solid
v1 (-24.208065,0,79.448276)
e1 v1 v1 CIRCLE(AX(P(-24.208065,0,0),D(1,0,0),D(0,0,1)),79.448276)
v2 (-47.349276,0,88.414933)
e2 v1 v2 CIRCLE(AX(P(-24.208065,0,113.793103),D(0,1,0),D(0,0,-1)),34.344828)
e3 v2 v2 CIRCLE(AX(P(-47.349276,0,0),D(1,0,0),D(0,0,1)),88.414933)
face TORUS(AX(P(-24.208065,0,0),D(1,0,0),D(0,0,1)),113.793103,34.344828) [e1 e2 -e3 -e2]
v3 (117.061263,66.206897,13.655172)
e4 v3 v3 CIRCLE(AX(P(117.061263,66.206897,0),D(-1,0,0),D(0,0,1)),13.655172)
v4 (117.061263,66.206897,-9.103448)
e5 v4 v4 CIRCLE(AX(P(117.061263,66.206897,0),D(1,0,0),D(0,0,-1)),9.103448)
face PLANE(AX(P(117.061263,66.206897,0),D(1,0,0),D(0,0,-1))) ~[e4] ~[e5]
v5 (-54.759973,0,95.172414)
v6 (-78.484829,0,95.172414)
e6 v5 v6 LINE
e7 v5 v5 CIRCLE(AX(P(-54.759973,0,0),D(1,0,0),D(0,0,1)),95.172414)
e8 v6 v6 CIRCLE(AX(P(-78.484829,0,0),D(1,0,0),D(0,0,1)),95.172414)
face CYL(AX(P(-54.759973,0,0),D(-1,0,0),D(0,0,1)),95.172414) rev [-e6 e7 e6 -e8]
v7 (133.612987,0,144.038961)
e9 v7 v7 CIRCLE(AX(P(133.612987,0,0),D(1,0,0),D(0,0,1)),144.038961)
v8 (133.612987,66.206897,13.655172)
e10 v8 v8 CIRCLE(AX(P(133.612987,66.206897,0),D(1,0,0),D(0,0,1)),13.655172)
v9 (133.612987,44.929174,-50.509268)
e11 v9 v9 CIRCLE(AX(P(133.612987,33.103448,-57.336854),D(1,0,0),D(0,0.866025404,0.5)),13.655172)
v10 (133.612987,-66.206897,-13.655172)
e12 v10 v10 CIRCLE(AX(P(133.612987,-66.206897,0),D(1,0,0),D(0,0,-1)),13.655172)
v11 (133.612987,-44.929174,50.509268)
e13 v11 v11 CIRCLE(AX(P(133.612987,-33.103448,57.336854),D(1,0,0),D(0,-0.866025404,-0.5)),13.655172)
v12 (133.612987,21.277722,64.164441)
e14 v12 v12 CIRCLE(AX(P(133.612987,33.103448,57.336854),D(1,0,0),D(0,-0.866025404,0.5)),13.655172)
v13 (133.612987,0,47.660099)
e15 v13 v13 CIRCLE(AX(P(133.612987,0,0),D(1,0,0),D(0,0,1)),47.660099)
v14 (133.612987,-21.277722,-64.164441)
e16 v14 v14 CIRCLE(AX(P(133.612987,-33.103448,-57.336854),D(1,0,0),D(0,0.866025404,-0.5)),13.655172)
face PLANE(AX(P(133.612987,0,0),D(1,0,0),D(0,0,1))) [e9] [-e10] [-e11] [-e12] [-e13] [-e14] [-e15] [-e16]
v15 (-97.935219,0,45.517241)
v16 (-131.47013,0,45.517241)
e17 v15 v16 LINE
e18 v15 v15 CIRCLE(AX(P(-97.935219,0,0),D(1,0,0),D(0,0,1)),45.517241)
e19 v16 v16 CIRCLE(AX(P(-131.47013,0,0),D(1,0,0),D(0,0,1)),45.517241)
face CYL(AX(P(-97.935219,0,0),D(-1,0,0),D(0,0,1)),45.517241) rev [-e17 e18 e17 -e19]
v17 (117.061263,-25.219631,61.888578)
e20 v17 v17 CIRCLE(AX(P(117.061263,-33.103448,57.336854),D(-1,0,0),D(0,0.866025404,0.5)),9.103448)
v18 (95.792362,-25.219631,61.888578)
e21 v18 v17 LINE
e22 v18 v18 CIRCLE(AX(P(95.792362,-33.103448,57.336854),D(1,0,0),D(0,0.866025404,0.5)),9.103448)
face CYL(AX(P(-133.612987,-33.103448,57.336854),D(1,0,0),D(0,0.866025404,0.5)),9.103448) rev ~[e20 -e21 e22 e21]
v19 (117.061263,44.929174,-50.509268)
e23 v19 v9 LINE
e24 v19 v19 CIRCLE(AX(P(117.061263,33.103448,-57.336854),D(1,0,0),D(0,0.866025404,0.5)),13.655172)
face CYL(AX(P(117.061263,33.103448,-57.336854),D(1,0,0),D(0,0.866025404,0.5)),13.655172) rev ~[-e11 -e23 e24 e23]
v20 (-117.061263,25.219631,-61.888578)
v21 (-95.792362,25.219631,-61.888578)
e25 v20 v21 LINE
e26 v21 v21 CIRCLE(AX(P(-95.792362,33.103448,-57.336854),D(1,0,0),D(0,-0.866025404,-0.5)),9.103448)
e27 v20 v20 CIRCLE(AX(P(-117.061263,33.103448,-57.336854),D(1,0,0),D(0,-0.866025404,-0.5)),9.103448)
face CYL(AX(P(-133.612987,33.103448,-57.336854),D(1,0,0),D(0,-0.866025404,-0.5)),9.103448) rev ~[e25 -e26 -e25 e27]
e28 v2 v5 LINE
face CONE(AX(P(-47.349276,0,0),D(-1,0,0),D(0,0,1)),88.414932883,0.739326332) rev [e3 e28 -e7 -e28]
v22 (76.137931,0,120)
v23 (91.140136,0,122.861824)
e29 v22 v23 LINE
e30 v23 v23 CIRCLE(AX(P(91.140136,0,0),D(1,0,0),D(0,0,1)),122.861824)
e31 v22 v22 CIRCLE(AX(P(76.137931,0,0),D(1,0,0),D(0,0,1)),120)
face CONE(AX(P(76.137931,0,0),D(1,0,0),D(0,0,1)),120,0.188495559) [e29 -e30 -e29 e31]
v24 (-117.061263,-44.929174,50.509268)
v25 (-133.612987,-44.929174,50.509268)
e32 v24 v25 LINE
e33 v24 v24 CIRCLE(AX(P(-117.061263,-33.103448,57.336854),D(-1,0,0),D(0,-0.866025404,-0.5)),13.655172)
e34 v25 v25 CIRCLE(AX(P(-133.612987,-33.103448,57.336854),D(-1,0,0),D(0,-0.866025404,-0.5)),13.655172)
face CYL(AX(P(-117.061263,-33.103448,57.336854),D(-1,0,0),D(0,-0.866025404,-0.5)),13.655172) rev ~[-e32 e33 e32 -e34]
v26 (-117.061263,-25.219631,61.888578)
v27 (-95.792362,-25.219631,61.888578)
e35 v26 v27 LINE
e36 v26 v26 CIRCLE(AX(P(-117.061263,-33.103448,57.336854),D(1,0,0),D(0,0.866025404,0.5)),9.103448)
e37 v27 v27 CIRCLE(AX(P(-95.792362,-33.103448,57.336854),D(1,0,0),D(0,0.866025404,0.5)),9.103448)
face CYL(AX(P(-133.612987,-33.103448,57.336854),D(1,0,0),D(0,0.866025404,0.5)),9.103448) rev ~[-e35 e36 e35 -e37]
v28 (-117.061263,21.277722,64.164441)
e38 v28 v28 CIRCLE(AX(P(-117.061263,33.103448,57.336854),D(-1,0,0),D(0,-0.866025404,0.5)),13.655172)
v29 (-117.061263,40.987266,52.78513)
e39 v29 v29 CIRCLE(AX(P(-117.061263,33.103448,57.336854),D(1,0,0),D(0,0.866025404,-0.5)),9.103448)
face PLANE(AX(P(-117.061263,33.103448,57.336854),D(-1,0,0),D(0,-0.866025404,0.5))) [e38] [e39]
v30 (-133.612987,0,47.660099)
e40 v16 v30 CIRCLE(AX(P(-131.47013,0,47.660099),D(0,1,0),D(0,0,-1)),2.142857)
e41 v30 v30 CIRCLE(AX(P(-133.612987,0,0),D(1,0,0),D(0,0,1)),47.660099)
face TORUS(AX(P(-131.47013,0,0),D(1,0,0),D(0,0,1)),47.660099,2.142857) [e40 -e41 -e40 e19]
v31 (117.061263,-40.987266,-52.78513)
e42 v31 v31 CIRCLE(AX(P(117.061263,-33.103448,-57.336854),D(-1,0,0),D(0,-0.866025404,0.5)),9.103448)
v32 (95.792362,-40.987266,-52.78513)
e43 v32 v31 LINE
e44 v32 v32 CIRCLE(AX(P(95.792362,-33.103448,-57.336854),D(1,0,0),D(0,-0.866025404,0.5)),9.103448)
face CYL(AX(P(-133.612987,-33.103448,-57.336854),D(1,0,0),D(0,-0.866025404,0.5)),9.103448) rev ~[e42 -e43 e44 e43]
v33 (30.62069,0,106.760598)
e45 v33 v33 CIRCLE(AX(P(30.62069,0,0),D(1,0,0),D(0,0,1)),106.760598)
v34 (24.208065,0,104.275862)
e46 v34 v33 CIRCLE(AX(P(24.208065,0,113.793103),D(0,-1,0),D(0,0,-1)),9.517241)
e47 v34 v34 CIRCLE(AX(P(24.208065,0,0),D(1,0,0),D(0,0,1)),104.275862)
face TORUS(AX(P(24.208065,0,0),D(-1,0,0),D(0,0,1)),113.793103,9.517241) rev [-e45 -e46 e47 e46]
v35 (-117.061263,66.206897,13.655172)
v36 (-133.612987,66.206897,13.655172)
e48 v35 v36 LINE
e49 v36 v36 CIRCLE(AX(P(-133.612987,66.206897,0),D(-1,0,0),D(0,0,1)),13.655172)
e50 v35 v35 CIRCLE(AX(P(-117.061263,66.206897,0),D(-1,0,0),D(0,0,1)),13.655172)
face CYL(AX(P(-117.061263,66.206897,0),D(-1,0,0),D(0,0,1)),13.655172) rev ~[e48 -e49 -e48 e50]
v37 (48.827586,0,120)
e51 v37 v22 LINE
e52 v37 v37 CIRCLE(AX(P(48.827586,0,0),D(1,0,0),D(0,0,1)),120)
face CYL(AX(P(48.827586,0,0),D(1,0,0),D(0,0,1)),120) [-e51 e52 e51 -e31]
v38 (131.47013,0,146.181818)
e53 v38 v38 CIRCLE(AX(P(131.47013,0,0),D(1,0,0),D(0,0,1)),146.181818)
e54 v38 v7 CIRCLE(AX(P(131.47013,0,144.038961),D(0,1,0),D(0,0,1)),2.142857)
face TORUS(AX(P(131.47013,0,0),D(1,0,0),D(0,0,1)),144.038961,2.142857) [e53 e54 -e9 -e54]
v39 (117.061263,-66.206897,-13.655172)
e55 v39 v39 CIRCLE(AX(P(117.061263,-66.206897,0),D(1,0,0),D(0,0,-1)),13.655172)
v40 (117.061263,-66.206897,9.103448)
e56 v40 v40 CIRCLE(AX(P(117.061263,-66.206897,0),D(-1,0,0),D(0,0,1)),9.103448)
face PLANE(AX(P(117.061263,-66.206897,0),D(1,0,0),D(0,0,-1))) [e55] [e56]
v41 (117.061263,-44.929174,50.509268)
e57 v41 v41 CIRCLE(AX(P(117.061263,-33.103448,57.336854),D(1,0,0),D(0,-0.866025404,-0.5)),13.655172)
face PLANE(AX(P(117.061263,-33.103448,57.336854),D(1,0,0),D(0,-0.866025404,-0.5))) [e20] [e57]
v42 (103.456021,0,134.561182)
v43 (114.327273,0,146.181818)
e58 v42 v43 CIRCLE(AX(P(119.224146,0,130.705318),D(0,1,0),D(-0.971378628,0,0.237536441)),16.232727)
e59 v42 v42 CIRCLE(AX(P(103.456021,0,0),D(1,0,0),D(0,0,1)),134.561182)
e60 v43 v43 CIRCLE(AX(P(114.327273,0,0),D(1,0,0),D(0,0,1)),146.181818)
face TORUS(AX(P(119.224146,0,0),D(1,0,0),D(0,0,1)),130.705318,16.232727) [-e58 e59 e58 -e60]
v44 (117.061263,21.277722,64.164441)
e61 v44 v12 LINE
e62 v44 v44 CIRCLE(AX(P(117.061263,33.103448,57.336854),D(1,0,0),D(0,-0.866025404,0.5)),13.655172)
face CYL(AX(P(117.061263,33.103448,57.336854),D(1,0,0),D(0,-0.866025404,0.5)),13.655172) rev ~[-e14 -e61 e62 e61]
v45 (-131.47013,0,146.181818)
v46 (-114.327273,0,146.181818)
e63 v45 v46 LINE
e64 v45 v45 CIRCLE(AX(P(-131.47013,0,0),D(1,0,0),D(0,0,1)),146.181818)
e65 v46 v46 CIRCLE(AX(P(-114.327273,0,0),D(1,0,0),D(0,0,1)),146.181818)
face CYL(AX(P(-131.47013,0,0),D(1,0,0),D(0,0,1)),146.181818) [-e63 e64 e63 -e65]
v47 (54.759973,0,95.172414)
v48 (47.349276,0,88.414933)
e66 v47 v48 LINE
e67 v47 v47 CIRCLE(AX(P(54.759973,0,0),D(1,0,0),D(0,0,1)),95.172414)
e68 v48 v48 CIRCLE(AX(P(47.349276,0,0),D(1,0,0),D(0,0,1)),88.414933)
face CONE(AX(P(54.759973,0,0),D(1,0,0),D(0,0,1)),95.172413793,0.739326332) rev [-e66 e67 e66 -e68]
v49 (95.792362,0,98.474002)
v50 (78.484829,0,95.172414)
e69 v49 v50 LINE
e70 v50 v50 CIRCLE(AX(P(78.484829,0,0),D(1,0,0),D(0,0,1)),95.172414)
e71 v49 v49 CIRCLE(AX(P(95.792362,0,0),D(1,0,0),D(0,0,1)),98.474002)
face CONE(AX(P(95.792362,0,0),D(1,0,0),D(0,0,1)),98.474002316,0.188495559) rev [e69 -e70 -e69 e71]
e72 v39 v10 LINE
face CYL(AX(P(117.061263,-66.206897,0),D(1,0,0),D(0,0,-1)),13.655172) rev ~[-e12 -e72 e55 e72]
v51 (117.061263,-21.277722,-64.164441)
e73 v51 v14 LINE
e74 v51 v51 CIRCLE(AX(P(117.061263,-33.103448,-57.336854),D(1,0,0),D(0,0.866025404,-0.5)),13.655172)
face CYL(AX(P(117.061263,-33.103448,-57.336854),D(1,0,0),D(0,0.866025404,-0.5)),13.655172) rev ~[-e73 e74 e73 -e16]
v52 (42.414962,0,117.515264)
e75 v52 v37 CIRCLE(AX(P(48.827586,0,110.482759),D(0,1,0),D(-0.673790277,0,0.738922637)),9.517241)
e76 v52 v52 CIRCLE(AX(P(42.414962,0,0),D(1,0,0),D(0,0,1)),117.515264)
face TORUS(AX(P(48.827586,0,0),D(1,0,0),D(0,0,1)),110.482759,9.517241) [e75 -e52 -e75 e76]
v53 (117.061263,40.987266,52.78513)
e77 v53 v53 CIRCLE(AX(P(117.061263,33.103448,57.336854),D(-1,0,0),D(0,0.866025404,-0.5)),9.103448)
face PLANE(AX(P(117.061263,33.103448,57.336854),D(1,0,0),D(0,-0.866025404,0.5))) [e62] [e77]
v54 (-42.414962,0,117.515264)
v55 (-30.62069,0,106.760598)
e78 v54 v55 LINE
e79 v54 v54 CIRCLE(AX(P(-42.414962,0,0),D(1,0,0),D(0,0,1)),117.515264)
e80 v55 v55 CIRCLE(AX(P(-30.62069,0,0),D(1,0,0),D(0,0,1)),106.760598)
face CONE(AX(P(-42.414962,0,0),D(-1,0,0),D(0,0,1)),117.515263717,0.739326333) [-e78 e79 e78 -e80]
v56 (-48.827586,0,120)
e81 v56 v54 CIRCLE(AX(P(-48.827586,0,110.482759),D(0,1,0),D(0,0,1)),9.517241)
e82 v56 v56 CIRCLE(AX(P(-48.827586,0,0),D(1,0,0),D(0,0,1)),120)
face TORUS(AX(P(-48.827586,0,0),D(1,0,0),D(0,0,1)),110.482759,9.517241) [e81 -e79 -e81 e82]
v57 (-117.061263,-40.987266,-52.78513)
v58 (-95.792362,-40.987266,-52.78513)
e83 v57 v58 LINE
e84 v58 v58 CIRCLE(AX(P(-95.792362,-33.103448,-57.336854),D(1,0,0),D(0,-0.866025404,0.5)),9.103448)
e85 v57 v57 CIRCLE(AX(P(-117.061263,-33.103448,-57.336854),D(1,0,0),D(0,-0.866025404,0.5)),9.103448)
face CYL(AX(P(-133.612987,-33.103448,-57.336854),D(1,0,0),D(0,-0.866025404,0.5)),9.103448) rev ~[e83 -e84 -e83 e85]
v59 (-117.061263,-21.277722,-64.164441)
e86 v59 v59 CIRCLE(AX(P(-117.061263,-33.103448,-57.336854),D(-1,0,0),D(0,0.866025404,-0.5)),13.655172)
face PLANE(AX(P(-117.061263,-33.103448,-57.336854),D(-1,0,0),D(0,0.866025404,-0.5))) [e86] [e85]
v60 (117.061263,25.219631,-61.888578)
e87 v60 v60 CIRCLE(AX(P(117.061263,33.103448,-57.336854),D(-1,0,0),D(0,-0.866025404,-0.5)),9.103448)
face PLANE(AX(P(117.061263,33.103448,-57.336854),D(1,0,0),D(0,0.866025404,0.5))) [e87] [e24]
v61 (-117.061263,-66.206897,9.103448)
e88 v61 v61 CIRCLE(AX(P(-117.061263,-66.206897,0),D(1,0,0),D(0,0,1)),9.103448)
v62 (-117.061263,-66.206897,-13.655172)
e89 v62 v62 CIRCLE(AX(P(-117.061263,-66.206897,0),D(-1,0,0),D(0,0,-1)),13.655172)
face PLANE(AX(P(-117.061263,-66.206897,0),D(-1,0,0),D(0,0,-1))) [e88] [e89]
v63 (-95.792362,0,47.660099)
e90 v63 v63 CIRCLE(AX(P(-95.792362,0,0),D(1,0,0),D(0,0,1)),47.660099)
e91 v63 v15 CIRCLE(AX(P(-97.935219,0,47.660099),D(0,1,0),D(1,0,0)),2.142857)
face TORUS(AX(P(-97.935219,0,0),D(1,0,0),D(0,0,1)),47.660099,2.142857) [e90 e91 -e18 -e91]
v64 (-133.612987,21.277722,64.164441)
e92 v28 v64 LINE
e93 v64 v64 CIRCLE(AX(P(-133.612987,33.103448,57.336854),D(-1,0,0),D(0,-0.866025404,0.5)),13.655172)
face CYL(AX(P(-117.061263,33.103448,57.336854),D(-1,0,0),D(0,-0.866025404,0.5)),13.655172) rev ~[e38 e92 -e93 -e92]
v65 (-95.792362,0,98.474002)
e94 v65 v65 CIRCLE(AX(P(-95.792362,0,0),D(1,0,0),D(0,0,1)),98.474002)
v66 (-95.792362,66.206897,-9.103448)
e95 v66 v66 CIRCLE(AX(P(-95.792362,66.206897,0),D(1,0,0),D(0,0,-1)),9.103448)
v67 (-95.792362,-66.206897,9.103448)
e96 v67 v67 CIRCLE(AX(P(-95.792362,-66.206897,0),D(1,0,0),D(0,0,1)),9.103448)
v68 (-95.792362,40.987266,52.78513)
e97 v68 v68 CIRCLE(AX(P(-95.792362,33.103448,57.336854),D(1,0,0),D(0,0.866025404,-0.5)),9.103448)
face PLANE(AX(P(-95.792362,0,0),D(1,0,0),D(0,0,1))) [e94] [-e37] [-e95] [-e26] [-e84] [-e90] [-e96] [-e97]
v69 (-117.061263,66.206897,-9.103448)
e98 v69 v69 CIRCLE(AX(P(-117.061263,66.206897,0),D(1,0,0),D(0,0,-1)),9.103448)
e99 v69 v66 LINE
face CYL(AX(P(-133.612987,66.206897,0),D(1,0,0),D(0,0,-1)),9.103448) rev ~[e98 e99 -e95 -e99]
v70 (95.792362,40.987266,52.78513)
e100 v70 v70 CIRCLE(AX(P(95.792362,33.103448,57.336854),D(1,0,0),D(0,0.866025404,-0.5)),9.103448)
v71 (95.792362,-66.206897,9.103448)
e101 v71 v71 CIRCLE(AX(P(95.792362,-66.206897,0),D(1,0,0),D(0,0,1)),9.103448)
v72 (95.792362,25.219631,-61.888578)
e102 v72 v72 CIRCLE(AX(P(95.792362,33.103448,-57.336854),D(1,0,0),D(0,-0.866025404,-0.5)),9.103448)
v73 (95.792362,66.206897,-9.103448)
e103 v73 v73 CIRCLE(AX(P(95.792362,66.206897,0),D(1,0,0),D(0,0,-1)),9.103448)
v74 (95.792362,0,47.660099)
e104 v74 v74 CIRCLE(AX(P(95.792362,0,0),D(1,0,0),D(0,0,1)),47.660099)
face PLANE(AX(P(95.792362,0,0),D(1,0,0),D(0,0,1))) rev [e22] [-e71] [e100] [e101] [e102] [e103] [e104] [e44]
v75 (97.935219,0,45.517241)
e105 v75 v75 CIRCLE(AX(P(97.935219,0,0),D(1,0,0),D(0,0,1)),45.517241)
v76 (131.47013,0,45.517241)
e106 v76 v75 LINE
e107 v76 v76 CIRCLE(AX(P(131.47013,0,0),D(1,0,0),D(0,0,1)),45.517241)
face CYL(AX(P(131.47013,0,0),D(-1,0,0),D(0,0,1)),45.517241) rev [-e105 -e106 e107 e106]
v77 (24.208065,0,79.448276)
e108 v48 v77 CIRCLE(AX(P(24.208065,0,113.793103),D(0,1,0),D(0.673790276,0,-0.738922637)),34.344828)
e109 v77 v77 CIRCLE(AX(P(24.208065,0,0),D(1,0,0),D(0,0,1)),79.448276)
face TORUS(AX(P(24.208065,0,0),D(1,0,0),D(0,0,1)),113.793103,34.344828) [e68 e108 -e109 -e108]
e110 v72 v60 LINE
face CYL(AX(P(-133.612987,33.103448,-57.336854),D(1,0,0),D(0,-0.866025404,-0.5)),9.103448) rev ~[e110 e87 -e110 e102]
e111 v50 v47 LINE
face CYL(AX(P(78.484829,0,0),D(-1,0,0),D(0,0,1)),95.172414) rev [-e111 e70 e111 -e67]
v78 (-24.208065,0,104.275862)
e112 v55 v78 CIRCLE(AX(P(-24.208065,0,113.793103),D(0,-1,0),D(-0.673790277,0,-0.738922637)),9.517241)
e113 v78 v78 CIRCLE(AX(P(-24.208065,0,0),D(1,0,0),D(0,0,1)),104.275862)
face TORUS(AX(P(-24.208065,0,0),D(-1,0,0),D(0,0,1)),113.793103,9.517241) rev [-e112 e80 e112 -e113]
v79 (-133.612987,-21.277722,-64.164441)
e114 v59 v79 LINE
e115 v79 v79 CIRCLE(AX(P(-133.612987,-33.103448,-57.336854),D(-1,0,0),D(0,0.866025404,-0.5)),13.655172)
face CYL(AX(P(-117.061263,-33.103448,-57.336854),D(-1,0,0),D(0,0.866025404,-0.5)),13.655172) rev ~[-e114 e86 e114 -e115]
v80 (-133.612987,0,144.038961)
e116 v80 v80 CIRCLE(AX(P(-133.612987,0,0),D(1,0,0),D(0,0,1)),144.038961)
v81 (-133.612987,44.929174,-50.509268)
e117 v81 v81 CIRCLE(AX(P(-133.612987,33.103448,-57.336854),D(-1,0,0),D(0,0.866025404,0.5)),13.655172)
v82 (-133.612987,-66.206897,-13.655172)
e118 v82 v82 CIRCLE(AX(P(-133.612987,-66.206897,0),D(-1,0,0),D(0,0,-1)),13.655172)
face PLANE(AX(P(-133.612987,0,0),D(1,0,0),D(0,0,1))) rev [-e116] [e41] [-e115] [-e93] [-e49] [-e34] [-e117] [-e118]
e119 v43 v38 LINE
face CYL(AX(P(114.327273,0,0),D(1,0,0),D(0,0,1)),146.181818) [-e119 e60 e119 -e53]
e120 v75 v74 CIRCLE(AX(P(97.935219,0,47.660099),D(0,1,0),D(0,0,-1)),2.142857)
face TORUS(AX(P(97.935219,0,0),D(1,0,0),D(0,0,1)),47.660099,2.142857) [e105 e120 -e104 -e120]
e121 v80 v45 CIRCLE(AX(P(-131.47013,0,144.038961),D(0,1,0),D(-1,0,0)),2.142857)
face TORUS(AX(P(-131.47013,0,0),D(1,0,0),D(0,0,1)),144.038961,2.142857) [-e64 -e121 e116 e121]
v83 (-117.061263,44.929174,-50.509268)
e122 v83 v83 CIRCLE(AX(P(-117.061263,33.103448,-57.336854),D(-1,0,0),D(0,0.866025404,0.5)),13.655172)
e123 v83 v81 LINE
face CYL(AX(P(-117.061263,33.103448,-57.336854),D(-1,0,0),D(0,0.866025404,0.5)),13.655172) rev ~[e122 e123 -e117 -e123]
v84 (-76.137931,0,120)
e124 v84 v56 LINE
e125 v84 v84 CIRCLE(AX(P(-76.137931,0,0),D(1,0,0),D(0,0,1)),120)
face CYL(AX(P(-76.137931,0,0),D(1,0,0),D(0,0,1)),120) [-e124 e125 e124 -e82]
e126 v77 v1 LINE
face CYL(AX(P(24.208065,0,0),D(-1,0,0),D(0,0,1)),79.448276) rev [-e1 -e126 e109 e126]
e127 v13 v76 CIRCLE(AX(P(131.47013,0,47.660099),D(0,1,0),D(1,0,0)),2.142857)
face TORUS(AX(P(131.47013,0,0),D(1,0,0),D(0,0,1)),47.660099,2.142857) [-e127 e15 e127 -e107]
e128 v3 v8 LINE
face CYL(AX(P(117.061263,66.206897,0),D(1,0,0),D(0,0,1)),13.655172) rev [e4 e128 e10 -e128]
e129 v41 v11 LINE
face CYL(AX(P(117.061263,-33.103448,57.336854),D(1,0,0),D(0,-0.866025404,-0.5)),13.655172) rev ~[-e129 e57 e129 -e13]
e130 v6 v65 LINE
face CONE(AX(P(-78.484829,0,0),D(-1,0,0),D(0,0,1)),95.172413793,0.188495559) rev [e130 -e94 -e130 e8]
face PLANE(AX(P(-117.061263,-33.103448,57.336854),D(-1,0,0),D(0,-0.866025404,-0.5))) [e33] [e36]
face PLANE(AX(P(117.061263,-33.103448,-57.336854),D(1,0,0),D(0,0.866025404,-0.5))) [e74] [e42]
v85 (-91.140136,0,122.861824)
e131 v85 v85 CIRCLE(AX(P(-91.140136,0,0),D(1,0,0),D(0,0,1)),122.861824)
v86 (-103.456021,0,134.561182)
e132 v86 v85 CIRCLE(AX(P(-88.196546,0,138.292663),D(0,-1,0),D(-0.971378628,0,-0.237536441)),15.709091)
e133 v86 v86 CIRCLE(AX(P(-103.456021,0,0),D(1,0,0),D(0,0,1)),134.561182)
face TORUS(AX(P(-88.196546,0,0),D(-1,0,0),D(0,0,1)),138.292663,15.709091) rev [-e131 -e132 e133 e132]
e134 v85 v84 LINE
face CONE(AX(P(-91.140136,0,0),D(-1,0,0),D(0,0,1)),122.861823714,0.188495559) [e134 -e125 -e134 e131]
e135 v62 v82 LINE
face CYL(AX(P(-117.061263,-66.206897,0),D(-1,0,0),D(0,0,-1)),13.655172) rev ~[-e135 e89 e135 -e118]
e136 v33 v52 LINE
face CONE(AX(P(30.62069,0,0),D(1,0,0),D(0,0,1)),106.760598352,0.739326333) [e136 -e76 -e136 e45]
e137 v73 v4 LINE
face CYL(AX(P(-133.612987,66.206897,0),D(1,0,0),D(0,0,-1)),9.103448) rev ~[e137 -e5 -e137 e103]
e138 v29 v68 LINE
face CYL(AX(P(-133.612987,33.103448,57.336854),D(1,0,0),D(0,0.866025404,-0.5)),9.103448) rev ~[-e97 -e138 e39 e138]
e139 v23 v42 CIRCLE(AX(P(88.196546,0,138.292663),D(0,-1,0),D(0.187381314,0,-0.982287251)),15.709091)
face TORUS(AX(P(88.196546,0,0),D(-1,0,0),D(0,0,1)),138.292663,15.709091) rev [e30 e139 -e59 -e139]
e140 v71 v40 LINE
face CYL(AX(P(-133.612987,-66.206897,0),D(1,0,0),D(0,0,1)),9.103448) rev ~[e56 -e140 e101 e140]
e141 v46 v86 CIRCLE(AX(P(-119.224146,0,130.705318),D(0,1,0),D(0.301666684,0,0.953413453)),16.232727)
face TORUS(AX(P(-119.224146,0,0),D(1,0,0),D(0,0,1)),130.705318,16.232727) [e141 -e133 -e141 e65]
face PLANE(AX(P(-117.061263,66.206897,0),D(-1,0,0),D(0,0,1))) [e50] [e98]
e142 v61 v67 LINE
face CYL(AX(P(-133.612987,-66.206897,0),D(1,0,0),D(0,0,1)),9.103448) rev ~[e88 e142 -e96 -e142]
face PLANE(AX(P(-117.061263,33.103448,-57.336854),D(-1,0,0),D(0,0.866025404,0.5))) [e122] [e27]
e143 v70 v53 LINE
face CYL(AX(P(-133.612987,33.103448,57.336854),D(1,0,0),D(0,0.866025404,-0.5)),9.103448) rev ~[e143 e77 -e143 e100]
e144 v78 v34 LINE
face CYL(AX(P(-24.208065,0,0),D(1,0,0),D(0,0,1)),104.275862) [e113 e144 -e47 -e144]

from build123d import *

# Parameters (mm, degrees)
CBORE_FOR_M20_SHCS1_D           = 18.206896552
CBORE_FOR_M20_SHCS1_CBORE_D     = 27.310344828
CBORE_FOR_M20_SHCS1_CBORE_DEPTH = 16.551724138
CIRPATTERN1_COUNT               = 6
MIRROR1_COPY_1_D                = 18.206896552
MIRROR1_COPY_1_CBORE_D          = 27.310344828
MIRROR1_COPY_1_CBORE_DEPTH      = 16.551724138
MIRROR1_COPY_2_D                = 18.206896552
MIRROR1_COPY_2_CBORE_D          = 27.310344828
MIRROR1_COPY_2_CBORE_DEPTH      = 16.551724138
MIRROR1_COPY_3_D                = 18.206896552
MIRROR1_COPY_3_CBORE_D          = 27.310344828
MIRROR1_COPY_3_CBORE_DEPTH      = 16.551724138
MIRROR1_COPY_4_D                = 18.206896552
MIRROR1_COPY_4_CBORE_D          = 27.310344828
MIRROR1_COPY_4_CBORE_DEPTH      = 16.551724138
MIRROR1_COPY_5_D                = 18.206896552
MIRROR1_COPY_5_CBORE_D          = 27.310344828
MIRROR1_COPY_5_CBORE_DEPTH      = 16.551724138


with BuildPart() as part:
    # Sketch1 → Revolve1 (revolve)
    with BuildSketch(Plane(origin=(0, 0, 0), x_dir=(1, 0, 0), z_dir=(0, 1, 0)), mode=Mode.PRIVATE) as revolve1_sk:
        with BuildLine():
            Line((-91.140136318, 122.861823714), (-76.137931034, 120))
            Line((-76.137931034, 120), (-48.827586207, 120))
            ThreePointArc((-48.827586207, 120), (-45.388993837, 119.357101751), (-42.414961507, 117.515263717))
            Line((-42.414961507, 117.515263717), (-30.620689655, 106.760598352))
            ThreePointArc((-30.620689655, 106.760598352), (-27.646657325, 104.918760318), (-24.208064955, 104.275862069))
            Line((-24.208064955, 104.275862069), (0, 104.275862069))
            Line((0, 104.275862069), (24.208064955, 104.275862069))
            ThreePointArc((24.208064955, 104.275862069), (27.646657325, 104.918760318), (30.620689655, 106.760598352))
            Line((30.620689655, 106.760598352), (42.414961507, 117.515263717))
            ThreePointArc((42.414961507, 117.515263717), (45.388993837, 119.357101751), (48.827586207, 120))
            Line((48.827586207, 120), (76.137931034, 120))
            Line((76.137931034, 120), (91.140136318, 122.861823714))
            ThreePointArc((91.140136318, 122.861823714), (99.015817993, 126.903243109), (103.45602139, 134.56118189))
            ThreePointArc((103.45602139, 134.56118189), (107.370018781, 141.795002418), (114.327272727, 146.181818182))
            Line((114.327272727, 146.181818182), (131.47012987, 146.181818182))
            ThreePointArc((131.47012987, 146.181818182), (132.985358687, 145.554189856), (133.612987013, 144.038961039))
            Line((133.612987013, 144.038961039), (133.612987013, 47.660098522))
            ThreePointArc((133.612987013, 47.660098522), (132.985358687, 46.144869705), (131.47012987, 45.517241379))
            Line((131.47012987, 45.517241379), (97.935219203, 45.517241379))
            ThreePointArc((97.935219203, 45.517241379), (96.419990386, 46.144869705), (95.79236206, 47.660098522))
            Line((95.79236206, 47.660098522), (95.79236206, 98.474002316))
            Line((95.79236206, 98.474002316), (78.484828912, 95.172413793))
            Line((78.484828912, 95.172413793), (54.759972878, 95.172413793))
            Line((54.759972878, 95.172413793), (47.349275828, 88.414932883))
            ThreePointArc((47.349275828, 88.414932883), (36.616898289, 81.768299979), (24.208064955, 79.448275862))
            Line((24.208064955, 79.448275862), (0, 79.448275862))
            Line((0, 79.448275862), (-24.208064955, 79.448275862))
            ThreePointArc((-24.208064955, 79.448275862), (-36.616898289, 81.768299979), (-47.349275828, 88.414932883))
            Line((-47.349275828, 88.414932883), (-54.759972878, 95.172413793))
            Line((-54.759972878, 95.172413793), (-78.484828912, 95.172413793))
            Line((-78.484828912, 95.172413793), (-95.79236206, 98.474002316))
            Line((-95.79236206, 98.474002316), (-95.79236206, 47.660098522))
            ThreePointArc((-95.79236206, 47.660098522), (-96.419990386, 46.144869705), (-97.935219203, 45.517241379))
            Line((-97.935219203, 45.517241379), (-131.47012987, 45.517241379))
            ThreePointArc((-131.47012987, 45.517241379), (-132.985358687, 46.144869705), (-133.612987013, 47.660098522))
            Line((-133.612987013, 47.660098522), (-133.612987013, 144.038961039))
            ThreePointArc((-133.612987013, 144.038961039), (-132.985358687, 145.554189856), (-131.47012987, 146.181818182))
            Line((-131.47012987, 146.181818182), (-114.327272727, 146.181818182))
            ThreePointArc((-114.327272727, 146.181818182), (-107.370018781, 141.795002418), (-103.45602139, 134.56118189))
            ThreePointArc((-103.45602139, 134.56118189), (-99.015817993, 126.903243109), (-91.140136318, 122.861823714))
        make_face()
    revolve(revolve1_sk.sketch.rotate(Axis((0, 0, 0), (1, 0, 0)), 180), axis=Axis((0, 0, 0), (1, 0, 0)))

    # CBORE for M20 SHCS1 (through all)
    with Locations(Plane.ZY.offset(133.612987013)):
        with Locations((0, 66.206896552)):
            cbore_for_m20_shcs1 = CounterBoreHole(CBORE_FOR_M20_SHCS1_D / 2, CBORE_FOR_M20_SHCS1_CBORE_D / 2, CBORE_FOR_M20_SHCS1_CBORE_DEPTH)

    # CirPattern1: CBORE for M20 SHCS1 ×6 about axis
    cirpattern1_axis = Axis((0, 0, 0), (1, 0, 0))
    for i in range(1, CIRPATTERN1_COUNT):
        add(cbore_for_m20_shcs1.rotate(cirpattern1_axis, i * 360 / CIRPATTERN1_COUNT), mode=Mode.SUBTRACT)

    # Mirror1: CBORE for M20 SHCS1 across plane
    add(cbore_for_m20_shcs1.mirror(Plane(origin=(0, 0, 0), x_dir=(0, 0, 1), z_dir=(1, 0, 0))), mode=Mode.SUBTRACT)

    # Mirror1 copy 1 (through all)
    with Locations(Plane(origin=(133.612987013, 0, 0), x_dir=(0, -0.8660254037844386, 0.5000000000000001), z_dir=(1, 0, 0))):
        with Locations((0, -66.206896552)):
            CounterBoreHole(MIRROR1_COPY_1_D / 2, MIRROR1_COPY_1_CBORE_D / 2, MIRROR1_COPY_1_CBORE_DEPTH)

    # Mirror1 copy 2 (through all)
    with Locations(Plane(origin=(133.612987013, 0, 0), x_dir=(0, -0.8660254037844387, -0.4999999999999998), z_dir=(1, 0, 0))):
        with Locations((0, -66.206896552)):
            CounterBoreHole(MIRROR1_COPY_2_D / 2, MIRROR1_COPY_2_CBORE_D / 2, MIRROR1_COPY_2_CBORE_DEPTH)

    # Mirror1 copy 3 (through all)
    with Locations(Plane(origin=(133.612987013, 0, 0), x_dir=(0, 0, -1), z_dir=(1, 0, 0))):
        with Locations((0, -66.206896552)):
            CounterBoreHole(MIRROR1_COPY_3_D / 2, MIRROR1_COPY_3_CBORE_D / 2, MIRROR1_COPY_3_CBORE_DEPTH)

    # Mirror1 copy 4 (through all)
    with Locations(Plane(origin=(133.612987013, 0, 0), x_dir=(0, 0.8660254037844384, -0.5000000000000004), z_dir=(1, 0, 0))):
        with Locations((0, -66.206896552)):
            CounterBoreHole(MIRROR1_COPY_4_D / 2, MIRROR1_COPY_4_CBORE_D / 2, MIRROR1_COPY_4_CBORE_DEPTH)

    # Mirror1 copy 5 (through all)
    with Locations(Plane(origin=(133.612987013, 0, 0), x_dir=(0, 0.8660254037844386, 0.5000000000000001), z_dir=(1, 0, 0))):
        with Locations((0, -66.206896552)):
            CounterBoreHole(MIRROR1_COPY_5_D / 2, MIRROR1_COPY_5_CBORE_D / 2, MIRROR1_COPY_5_CBORE_DEPTH)


solid = part.part
